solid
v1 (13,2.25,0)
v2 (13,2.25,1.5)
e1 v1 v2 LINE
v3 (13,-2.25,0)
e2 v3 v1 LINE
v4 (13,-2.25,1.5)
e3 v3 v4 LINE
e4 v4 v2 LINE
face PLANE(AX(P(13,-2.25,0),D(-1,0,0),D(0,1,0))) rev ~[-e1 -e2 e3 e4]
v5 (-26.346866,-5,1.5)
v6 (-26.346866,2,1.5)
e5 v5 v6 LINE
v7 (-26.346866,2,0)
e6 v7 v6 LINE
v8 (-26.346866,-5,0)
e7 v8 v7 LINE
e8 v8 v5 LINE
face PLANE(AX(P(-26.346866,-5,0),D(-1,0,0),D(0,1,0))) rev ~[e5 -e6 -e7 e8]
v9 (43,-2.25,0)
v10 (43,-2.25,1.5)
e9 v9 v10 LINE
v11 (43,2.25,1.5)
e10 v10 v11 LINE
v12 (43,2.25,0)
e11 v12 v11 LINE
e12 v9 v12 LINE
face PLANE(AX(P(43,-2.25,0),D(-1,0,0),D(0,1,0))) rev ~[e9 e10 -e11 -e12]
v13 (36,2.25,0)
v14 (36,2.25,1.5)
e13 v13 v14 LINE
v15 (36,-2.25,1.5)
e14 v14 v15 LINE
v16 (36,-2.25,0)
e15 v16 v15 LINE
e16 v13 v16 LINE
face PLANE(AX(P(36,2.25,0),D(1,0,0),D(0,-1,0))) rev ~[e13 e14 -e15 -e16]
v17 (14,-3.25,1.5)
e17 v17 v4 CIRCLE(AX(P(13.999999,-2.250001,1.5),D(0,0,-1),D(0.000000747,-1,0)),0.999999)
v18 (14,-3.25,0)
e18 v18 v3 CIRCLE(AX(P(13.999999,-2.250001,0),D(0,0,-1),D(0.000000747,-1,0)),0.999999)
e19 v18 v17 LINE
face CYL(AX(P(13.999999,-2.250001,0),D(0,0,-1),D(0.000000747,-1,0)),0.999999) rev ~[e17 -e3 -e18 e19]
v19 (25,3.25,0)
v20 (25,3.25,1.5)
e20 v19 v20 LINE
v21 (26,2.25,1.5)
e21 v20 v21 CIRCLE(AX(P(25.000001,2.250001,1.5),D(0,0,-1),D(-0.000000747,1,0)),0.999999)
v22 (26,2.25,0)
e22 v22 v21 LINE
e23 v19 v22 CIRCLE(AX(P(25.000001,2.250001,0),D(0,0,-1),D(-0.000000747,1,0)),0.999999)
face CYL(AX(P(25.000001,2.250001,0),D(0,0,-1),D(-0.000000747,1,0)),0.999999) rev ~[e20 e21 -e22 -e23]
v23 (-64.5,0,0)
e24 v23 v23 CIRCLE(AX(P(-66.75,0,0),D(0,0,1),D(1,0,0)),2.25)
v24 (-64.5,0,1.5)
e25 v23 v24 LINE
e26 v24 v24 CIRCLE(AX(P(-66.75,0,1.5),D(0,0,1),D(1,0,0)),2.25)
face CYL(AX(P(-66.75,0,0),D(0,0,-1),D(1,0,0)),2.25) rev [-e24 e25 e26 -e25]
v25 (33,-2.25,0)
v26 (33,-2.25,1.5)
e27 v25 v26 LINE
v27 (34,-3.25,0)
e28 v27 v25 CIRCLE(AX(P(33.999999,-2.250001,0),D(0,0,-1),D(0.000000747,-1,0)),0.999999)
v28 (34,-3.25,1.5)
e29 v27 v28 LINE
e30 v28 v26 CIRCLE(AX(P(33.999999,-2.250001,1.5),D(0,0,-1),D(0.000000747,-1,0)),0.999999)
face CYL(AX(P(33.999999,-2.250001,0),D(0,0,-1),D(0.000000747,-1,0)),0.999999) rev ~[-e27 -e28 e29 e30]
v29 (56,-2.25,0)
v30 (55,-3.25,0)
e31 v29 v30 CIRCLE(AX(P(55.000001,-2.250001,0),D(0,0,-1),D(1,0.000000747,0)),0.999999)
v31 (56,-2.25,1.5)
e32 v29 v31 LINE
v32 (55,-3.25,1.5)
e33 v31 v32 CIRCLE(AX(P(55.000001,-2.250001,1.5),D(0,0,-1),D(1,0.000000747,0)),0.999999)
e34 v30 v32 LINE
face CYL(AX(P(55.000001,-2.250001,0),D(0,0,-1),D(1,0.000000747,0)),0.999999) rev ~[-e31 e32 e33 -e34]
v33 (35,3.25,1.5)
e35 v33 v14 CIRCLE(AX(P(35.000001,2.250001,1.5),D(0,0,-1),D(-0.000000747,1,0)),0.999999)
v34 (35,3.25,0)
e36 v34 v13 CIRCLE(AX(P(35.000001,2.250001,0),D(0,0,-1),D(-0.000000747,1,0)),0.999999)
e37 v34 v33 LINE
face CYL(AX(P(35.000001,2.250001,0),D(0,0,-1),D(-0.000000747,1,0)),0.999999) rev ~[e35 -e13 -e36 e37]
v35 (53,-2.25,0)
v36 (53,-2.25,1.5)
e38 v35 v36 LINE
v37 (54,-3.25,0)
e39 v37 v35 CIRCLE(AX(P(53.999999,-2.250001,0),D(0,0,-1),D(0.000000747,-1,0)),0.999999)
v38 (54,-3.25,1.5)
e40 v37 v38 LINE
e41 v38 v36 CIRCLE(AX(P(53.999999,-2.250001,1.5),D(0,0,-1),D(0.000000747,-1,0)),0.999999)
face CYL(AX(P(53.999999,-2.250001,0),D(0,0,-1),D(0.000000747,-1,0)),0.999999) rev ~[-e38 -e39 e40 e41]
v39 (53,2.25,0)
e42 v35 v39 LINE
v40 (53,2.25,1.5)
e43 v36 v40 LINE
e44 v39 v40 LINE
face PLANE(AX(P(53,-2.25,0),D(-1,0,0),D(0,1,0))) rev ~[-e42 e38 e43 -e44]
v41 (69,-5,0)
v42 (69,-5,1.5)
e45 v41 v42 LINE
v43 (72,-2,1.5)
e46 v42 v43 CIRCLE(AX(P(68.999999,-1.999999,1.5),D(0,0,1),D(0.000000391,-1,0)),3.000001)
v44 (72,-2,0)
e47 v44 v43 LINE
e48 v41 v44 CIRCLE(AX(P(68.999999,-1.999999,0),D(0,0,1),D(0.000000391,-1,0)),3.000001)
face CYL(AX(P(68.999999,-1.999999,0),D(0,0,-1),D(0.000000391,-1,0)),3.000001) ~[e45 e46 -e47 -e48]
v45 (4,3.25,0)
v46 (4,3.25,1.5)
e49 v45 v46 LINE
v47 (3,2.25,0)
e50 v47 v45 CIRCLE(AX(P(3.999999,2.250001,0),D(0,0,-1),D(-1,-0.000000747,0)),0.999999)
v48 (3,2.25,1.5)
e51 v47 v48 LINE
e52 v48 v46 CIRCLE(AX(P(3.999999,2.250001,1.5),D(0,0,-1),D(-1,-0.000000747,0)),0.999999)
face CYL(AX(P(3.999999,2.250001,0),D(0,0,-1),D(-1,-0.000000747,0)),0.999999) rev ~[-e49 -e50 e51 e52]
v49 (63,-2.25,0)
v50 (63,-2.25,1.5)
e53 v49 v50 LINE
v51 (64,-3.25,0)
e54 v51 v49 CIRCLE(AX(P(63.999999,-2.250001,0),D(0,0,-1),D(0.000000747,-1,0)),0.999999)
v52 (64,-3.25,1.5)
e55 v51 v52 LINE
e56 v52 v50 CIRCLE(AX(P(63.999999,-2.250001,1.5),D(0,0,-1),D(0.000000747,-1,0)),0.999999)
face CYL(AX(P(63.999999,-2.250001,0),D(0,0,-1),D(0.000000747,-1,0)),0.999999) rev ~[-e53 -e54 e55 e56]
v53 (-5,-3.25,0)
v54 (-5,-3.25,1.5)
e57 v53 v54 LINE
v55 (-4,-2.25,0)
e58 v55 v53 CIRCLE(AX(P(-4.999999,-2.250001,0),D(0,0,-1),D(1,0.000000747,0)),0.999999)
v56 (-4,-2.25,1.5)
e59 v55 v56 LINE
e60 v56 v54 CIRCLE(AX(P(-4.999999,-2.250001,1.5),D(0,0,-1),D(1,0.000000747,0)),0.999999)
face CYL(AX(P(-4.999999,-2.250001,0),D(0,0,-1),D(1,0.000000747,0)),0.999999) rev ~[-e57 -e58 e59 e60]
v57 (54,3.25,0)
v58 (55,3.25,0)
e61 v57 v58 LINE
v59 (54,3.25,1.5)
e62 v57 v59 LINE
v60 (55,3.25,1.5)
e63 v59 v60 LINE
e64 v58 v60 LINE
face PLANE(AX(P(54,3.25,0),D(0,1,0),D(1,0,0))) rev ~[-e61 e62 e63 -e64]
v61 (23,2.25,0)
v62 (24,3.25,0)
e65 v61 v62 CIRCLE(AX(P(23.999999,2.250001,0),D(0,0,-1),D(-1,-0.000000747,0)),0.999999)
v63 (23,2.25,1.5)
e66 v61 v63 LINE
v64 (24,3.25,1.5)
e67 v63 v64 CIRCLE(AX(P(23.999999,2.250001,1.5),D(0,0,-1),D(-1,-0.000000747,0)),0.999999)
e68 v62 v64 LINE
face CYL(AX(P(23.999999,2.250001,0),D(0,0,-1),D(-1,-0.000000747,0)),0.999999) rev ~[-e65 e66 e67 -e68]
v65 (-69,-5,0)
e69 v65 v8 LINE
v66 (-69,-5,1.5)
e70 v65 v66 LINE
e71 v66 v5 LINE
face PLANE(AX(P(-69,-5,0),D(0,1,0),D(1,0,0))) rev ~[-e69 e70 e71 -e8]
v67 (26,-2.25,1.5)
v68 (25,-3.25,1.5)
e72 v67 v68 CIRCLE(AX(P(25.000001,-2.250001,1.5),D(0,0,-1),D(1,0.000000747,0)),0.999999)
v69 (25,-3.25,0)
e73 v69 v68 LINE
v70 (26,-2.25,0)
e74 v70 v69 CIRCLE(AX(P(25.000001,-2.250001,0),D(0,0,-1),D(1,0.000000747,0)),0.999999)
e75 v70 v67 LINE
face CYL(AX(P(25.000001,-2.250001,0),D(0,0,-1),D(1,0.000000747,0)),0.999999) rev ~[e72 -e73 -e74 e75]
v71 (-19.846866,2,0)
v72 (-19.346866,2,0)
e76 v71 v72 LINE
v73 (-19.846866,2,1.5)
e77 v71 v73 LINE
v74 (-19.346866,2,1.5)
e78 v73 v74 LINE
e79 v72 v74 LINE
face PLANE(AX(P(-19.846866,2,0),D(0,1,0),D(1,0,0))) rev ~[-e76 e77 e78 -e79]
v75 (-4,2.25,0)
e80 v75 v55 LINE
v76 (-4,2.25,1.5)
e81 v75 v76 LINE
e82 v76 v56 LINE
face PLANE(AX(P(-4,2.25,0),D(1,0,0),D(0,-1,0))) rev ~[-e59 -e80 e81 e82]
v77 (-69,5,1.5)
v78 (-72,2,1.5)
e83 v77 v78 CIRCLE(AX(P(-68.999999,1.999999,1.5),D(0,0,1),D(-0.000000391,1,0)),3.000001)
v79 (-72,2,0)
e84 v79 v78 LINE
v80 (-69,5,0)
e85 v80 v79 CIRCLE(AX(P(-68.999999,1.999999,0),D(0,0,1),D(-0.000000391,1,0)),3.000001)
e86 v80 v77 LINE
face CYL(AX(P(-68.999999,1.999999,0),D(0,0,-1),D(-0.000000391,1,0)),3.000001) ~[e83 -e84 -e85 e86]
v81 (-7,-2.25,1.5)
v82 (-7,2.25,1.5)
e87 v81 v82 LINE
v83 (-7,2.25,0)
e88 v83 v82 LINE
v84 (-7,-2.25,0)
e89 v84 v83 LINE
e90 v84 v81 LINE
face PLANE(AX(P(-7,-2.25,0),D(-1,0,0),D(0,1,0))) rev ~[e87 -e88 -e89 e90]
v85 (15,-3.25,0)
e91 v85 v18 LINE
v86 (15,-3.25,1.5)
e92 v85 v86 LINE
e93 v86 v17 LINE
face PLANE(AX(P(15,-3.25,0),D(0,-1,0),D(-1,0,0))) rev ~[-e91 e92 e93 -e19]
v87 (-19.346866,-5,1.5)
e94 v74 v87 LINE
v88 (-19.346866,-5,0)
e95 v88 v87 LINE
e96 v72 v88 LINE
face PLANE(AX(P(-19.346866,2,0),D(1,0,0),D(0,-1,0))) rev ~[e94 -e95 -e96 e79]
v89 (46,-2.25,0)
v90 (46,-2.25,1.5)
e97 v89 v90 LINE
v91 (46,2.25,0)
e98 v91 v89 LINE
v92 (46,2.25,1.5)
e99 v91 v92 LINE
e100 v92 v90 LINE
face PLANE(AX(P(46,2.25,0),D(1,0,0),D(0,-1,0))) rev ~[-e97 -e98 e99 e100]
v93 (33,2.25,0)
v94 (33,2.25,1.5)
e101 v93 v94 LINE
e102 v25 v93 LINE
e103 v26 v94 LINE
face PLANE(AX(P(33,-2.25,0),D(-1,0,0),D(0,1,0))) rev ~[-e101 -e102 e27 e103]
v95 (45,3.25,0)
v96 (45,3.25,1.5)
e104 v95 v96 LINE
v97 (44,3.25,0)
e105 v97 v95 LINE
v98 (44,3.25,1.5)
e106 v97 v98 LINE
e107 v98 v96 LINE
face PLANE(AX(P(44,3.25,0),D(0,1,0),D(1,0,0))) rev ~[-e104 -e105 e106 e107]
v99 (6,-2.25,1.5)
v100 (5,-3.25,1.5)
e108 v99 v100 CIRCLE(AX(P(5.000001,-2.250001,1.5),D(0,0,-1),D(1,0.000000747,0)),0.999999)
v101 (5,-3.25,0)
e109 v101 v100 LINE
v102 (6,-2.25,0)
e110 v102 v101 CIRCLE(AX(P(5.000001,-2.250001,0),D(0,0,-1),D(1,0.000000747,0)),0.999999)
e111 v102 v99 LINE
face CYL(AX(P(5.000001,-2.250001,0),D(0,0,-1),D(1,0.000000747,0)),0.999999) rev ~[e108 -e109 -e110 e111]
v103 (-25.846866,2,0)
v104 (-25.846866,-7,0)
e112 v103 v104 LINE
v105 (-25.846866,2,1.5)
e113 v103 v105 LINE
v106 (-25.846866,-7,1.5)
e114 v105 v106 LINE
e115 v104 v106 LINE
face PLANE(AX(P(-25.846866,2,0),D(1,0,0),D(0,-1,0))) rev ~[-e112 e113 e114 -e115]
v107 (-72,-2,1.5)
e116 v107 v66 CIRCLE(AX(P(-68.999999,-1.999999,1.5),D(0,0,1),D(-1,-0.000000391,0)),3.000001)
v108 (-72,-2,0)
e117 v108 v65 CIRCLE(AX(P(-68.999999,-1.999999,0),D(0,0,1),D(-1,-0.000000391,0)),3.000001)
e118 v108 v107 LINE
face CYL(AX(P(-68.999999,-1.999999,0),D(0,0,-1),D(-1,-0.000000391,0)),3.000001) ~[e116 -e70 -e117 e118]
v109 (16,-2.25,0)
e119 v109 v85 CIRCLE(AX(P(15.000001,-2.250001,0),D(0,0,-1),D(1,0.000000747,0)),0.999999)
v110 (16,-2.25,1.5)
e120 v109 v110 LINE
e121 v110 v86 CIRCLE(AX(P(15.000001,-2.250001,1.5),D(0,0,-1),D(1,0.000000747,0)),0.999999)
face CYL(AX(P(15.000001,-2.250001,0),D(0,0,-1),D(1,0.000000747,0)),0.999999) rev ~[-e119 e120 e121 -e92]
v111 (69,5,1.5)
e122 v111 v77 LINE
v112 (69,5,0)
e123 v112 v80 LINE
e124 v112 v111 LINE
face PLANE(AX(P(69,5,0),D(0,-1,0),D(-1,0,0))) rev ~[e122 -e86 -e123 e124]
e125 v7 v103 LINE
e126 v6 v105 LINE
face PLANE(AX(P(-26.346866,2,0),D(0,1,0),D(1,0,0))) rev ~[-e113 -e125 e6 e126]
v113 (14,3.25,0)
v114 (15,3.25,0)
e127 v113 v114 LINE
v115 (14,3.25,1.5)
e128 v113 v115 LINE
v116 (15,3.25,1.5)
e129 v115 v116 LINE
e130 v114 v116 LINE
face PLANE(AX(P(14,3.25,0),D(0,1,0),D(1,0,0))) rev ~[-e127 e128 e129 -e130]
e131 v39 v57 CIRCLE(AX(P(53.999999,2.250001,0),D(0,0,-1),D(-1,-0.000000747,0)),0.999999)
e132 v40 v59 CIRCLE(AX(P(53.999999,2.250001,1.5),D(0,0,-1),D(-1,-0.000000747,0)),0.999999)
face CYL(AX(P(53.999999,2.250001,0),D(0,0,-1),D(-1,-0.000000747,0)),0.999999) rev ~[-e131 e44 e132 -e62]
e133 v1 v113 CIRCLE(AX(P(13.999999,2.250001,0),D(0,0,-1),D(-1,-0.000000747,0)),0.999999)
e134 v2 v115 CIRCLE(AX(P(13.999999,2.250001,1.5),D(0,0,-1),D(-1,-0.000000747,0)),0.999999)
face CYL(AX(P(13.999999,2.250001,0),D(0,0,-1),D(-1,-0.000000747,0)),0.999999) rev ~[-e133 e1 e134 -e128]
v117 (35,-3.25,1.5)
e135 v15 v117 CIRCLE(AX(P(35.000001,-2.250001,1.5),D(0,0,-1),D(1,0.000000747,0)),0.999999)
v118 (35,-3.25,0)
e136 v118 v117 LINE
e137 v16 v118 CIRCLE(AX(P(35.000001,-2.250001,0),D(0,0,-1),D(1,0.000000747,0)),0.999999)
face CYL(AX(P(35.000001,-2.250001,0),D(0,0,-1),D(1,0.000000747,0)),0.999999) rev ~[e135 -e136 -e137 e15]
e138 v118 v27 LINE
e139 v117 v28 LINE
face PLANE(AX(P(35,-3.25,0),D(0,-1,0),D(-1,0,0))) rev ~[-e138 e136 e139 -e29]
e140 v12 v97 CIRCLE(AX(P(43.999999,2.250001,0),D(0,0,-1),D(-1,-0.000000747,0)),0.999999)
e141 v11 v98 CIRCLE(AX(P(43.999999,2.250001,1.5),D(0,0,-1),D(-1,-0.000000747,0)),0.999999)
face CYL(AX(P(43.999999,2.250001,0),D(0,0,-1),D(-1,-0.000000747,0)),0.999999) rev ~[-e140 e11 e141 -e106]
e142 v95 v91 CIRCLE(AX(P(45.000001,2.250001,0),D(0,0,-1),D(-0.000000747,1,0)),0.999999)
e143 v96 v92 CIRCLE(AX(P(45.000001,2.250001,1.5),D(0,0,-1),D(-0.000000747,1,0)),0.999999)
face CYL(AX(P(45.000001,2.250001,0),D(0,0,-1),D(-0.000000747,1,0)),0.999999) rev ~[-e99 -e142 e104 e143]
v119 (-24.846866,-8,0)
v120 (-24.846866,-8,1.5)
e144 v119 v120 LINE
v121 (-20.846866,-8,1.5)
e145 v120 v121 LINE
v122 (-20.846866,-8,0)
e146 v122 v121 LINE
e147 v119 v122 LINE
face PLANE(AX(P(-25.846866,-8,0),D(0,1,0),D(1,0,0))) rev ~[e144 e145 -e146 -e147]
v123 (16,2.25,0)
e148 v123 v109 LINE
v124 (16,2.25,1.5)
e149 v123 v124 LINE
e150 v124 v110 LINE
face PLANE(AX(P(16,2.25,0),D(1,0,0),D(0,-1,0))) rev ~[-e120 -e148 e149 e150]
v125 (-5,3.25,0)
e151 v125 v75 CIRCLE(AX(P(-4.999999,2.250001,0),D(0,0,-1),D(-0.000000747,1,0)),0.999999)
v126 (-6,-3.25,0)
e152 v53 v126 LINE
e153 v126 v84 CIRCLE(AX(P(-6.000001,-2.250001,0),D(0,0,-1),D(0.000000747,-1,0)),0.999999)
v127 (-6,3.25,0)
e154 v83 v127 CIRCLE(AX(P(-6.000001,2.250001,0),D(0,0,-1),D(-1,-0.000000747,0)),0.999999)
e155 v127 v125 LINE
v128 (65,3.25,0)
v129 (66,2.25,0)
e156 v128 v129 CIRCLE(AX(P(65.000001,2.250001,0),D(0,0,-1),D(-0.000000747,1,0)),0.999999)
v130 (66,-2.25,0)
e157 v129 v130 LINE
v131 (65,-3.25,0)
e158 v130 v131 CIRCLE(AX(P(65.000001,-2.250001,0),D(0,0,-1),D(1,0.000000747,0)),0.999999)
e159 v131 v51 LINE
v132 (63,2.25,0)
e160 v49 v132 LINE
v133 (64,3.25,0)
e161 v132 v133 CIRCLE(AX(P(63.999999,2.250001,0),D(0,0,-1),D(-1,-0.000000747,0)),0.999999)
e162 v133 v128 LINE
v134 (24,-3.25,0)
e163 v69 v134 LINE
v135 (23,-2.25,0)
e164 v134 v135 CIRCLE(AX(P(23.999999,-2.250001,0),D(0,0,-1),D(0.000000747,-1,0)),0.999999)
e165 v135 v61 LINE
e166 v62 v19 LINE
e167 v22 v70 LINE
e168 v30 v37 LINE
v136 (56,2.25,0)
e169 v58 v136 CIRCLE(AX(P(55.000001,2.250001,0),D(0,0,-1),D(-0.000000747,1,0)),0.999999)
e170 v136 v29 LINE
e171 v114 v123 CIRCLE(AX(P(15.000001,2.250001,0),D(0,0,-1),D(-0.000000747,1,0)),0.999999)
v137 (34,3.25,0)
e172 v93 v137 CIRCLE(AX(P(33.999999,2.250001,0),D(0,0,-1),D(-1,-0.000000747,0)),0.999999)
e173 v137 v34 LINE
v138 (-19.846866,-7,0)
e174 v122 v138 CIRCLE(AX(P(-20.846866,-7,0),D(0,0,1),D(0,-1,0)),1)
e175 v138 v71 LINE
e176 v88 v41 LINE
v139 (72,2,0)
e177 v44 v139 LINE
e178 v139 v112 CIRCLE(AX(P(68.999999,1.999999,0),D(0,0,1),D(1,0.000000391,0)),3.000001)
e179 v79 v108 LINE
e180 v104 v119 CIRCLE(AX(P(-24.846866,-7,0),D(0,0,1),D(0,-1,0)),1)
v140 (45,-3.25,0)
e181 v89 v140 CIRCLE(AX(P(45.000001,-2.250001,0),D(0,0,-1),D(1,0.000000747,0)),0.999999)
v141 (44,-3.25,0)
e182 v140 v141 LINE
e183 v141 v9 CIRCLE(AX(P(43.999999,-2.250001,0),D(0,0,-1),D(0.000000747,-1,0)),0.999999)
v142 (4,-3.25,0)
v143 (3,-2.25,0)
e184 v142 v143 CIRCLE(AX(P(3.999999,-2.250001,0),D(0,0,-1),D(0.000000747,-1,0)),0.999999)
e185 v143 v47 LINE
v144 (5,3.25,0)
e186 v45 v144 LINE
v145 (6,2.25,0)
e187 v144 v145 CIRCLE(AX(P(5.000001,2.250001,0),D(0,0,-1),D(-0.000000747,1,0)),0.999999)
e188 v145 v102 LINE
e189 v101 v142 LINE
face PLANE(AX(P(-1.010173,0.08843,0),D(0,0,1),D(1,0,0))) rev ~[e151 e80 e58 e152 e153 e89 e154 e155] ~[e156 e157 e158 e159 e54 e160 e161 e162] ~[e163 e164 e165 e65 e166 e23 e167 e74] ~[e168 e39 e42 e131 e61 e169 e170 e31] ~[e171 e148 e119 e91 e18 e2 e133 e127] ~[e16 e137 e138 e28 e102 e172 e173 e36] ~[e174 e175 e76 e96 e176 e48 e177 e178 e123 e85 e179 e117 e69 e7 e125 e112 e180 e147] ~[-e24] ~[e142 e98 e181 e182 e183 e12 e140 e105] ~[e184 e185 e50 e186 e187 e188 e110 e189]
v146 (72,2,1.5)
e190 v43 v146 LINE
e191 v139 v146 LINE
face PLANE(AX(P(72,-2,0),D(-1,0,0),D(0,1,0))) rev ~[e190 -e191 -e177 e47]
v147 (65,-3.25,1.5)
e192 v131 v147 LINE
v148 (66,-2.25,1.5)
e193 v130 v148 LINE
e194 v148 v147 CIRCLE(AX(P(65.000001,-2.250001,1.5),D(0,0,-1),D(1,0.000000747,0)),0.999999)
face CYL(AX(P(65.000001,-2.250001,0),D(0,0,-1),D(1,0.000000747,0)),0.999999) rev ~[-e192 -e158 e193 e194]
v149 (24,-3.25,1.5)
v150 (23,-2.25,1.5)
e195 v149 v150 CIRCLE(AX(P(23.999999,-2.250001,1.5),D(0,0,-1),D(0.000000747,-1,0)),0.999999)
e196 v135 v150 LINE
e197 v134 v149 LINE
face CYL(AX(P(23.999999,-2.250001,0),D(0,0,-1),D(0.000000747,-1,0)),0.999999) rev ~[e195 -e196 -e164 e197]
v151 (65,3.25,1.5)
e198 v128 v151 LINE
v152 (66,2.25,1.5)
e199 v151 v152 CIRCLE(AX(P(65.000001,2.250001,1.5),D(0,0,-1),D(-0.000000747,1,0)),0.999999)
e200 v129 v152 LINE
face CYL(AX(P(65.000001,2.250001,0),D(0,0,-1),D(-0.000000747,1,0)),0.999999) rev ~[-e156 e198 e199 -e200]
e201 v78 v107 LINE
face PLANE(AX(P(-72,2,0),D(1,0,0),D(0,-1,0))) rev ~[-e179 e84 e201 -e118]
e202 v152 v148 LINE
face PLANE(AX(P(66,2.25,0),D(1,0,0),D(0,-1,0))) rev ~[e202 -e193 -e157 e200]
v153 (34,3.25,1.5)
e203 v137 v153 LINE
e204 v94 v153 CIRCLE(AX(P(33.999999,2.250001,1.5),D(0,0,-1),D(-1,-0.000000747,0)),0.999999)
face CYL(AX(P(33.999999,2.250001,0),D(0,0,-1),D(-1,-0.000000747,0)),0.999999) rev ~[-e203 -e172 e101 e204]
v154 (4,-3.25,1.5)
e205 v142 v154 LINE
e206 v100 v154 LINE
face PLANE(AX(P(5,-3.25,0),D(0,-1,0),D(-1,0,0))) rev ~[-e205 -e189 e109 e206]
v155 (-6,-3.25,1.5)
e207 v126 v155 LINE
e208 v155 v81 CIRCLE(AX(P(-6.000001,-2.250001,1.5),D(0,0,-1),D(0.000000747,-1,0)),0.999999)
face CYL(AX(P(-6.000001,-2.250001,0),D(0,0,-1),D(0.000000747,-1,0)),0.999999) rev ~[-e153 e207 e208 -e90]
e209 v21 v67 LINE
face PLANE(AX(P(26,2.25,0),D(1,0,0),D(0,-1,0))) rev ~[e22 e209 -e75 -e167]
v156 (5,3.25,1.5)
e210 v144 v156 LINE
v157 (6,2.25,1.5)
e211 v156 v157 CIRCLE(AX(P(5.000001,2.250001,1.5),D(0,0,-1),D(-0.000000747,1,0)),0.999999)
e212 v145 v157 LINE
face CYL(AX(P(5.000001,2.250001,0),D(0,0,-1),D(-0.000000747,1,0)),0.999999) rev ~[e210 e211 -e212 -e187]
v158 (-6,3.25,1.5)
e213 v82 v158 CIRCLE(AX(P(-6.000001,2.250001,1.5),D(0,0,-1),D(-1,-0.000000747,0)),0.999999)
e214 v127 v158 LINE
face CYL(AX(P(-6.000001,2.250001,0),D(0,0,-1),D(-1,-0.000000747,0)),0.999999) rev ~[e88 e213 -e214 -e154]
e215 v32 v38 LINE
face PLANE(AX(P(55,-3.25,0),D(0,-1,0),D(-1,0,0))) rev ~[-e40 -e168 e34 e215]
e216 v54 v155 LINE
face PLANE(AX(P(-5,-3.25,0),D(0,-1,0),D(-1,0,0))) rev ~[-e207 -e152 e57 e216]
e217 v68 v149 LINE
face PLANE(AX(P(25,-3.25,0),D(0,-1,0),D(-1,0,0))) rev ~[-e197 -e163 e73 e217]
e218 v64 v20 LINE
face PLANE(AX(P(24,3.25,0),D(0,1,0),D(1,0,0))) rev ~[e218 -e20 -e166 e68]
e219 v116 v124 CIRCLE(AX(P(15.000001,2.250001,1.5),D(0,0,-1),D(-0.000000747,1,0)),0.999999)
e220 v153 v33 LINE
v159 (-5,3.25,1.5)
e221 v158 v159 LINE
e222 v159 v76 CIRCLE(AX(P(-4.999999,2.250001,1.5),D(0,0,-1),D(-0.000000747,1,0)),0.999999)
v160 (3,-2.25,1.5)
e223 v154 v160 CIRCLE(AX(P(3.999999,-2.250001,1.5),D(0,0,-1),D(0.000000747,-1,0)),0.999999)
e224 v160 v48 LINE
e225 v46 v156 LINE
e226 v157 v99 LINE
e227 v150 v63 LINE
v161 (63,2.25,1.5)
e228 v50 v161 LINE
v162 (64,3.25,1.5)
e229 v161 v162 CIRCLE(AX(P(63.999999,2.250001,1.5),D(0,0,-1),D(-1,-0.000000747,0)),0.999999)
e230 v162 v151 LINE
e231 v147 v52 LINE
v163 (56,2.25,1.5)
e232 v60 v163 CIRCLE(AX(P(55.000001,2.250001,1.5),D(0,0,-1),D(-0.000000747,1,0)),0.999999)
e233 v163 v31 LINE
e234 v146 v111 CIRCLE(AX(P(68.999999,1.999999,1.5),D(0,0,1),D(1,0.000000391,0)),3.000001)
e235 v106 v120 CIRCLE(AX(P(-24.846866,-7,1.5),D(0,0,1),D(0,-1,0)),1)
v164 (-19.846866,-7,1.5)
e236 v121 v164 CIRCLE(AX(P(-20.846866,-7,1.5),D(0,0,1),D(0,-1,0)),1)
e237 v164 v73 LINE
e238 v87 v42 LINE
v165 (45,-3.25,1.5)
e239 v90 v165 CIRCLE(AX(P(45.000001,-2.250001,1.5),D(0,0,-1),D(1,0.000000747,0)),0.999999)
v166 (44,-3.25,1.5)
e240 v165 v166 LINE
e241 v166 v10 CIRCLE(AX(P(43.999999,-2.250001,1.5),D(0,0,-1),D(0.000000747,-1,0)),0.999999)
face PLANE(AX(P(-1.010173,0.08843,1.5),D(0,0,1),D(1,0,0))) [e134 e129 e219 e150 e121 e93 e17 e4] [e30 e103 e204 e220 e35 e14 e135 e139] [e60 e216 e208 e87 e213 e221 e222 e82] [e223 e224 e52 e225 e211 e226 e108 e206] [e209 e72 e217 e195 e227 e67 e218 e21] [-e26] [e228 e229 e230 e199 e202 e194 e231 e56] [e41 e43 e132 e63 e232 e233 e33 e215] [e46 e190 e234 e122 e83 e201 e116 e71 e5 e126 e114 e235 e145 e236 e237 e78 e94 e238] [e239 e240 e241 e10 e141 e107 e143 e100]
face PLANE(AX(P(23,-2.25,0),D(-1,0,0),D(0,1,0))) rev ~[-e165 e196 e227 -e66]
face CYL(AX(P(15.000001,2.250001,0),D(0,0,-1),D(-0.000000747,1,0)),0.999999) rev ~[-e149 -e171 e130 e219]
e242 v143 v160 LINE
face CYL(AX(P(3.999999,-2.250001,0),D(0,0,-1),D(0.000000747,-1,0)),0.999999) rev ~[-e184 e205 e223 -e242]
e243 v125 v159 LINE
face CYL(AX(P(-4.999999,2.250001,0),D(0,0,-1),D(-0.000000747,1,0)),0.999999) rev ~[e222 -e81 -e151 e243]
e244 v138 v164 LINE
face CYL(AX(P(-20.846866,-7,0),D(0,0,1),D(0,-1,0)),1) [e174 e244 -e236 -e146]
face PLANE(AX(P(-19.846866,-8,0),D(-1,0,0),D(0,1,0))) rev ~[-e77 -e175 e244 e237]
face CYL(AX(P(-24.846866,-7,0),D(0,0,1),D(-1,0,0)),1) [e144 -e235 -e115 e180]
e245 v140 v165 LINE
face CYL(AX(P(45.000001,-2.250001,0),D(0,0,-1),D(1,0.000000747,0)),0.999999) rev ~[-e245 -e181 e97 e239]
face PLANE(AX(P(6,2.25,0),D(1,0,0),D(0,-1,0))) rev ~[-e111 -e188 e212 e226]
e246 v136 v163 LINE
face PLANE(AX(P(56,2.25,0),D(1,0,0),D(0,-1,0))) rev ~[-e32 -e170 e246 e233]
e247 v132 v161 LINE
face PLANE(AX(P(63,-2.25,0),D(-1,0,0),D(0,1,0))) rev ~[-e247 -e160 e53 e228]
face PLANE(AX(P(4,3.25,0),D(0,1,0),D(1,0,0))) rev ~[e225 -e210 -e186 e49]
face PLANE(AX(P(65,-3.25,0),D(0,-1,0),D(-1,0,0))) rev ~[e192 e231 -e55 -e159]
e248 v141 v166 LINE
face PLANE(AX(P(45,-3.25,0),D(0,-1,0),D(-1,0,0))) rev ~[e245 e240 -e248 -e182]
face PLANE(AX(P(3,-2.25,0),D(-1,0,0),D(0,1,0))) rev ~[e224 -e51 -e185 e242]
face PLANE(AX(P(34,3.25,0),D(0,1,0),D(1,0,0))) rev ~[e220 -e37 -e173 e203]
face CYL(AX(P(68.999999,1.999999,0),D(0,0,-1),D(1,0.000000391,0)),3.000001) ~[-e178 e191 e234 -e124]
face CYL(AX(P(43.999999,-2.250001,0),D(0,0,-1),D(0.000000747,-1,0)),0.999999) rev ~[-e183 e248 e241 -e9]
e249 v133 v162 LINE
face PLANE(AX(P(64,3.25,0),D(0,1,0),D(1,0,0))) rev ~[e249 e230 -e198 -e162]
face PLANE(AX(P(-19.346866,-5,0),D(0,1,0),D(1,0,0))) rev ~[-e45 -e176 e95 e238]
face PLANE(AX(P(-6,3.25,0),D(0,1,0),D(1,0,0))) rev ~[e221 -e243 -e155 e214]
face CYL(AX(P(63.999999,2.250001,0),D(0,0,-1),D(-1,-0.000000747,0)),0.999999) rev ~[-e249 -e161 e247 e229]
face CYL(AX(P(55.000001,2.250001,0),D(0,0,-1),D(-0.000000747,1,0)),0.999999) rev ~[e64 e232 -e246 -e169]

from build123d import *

# Parameters (mm, degrees)
F0_R     = 2.25
F1_DEPTH = 1.5
F2_R     = 1


with BuildPart() as f1:
    # F0 (on Top) → F1 (new body)
    with BuildSketch(Plane.XY):
        with BuildLine():
            Line((-19.346866, -5), (69, -5))
            ThreePointArc((69, -5), (71.12132, -4.12132), (72, -2))
            Line((72, -2), (72, 2))
            ThreePointArc((72, 2), (71.12132, 4.12132), (69, 5))
            Line((69, 5), (-69, 5))
            ThreePointArc((-69, 5), (-71.12132, 4.12132), (-72, 2))
            Line((-72, 2), (-72, -2))
            ThreePointArc((-72, -2), (-71.12132, -4.12132), (-69, -5))
            Line((-69, -5), (-26.346866, -5))
            Line((-26.346866, -5), (-26.346866, 2))
            Line((-26.346866, 2), (-25.846866, 2))
            Line((-25.846866, 2), (-19.846866, 2))
            Line((-19.846866, 2), (-19.346866, 2))
            Line((-19.346866, 2), (-19.346866, -5))
        make_face()
        with Locations((-66.75, 0)):
            Circle(F0_R, mode=Mode.SUBTRACT)
        with BuildLine():
            ThreePointArc((-4, -2.25), (-4.292893, -2.957107), (-5, -3.25))
            Line((-5, -3.25), (-6, -3.25))
            ThreePointArc((-6, -3.25), (-6.707107, -2.957107), (-7, -2.25))
            Line((-7, -2.25), (-7, 2.25))
            ThreePointArc((-7, 2.25), (-6.707107, 2.957107), (-6, 3.25))
            Line((-6, 3.25), (-5, 3.25))
            ThreePointArc((-5, 3.25), (-4.292893, 2.957107), (-4, 2.25))
            Line((-4, 2.25), (-4, -2.25))
        make_face(mode=Mode.SUBTRACT)
        with BuildLine():
            ThreePointArc((4, -3.25), (3.292893, -2.957107), (3, -2.25))
            Line((3, -2.25), (3, 2.25))
            ThreePointArc((3, 2.25), (3.292893, 2.957107), (4, 3.25))
            Line((4, 3.25), (5, 3.25))
            ThreePointArc((5, 3.25), (5.707107, 2.957107), (6, 2.25))
            Line((6, 2.25), (6, -2.25))
            ThreePointArc((6, -2.25), (5.707107, -2.957107), (5, -3.25))
            Line((5, -3.25), (4, -3.25))
        make_face(mode=Mode.SUBTRACT)
        with BuildLine():
            ThreePointArc((14, -3.25), (13.292893, -2.957107), (13, -2.25))
            Line((13, -2.25), (13, 2.25))
            ThreePointArc((13, 2.25), (13.292893, 2.957107), (14, 3.25))
            Line((14, 3.25), (15, 3.25))
            ThreePointArc((15, 3.25), (15.707107, 2.957107), (16, 2.25))
            Line((16, 2.25), (16, -2.25))
            ThreePointArc((16, -2.25), (15.707107, -2.957107), (15, -3.25))
            Line((15, -3.25), (14, -3.25))
        make_face(mode=Mode.SUBTRACT)
        with BuildLine():
            ThreePointArc((24, -3.25), (23.292893, -2.957107), (23, -2.25))
            Line((23, -2.25), (23, 2.25))
            ThreePointArc((23, 2.25), (23.292893, 2.957107), (24, 3.25))
            Line((24, 3.25), (25, 3.25))
            ThreePointArc((25, 3.25), (25.707107, 2.957107), (26, 2.25))
            Line((26, 2.25), (26, -2.25))
            ThreePointArc((26, -2.25), (25.707107, -2.957107), (25, -3.25))
            Line((25, -3.25), (24, -3.25))
        make_face(mode=Mode.SUBTRACT)
        with BuildLine():
            ThreePointArc((34, -3.25), (33.292893, -2.957107), (33, -2.25))
            Line((33, -2.25), (33, 2.25))
            ThreePointArc((33, 2.25), (33.292893, 2.957107), (34, 3.25))
            Line((34, 3.25), (35, 3.25))
            ThreePointArc((35, 3.25), (35.707107, 2.957107), (36, 2.25))
            Line((36, 2.25), (36, -2.25))
            ThreePointArc((36, -2.25), (35.707107, -2.957107), (35, -3.25))
            Line((35, -3.25), (34, -3.25))
        make_face(mode=Mode.SUBTRACT)
        with BuildLine():
            ThreePointArc((44, -3.25), (43.292893, -2.957107), (43, -2.25))
            Line((43, -2.25), (43, 2.25))
            ThreePointArc((43, 2.25), (43.292893, 2.957107), (44, 3.25))
            Line((44, 3.25), (45, 3.25))
            ThreePointArc((45, 3.25), (45.707107, 2.957107), (46, 2.25))
            Line((46, 2.25), (46, -2.25))
            ThreePointArc((46, -2.25), (45.707107, -2.957107), (45, -3.25))
            Line((45, -3.25), (44, -3.25))
        make_face(mode=Mode.SUBTRACT)
        with BuildLine():
            ThreePointArc((54, -3.25), (53.292893, -2.957107), (53, -2.25))
            Line((53, -2.25), (53, 2.25))
            ThreePointArc((53, 2.25), (53.292893, 2.957107), (54, 3.25))
            Line((54, 3.25), (55, 3.25))
            ThreePointArc((55, 3.25), (55.707107, 2.957107), (56, 2.25))
            Line((56, 2.25), (56, -2.25))
            ThreePointArc((56, -2.25), (55.707107, -2.957107), (55, -3.25))
            Line((55, -3.25), (54, -3.25))
        make_face(mode=Mode.SUBTRACT)
        with BuildLine():
            ThreePointArc((64, -3.25), (63.292893, -2.957107), (63, -2.25))
            Line((63, -2.25), (63, 2.25))
            ThreePointArc((63, 2.25), (63.292893, 2.957107), (64, 3.25))
            Line((64, 3.25), (65, 3.25))
            ThreePointArc((65, 3.25), (65.707107, 2.957107), (66, 2.25))
            Line((66, 2.25), (66, -2.25))
            ThreePointArc((66, -2.25), (65.707107, -2.957107), (65, -3.25))
            Line((65, -3.25), (64, -3.25))
        make_face(mode=Mode.SUBTRACT)
        Polygon((-19.846866, -8), (-19.846866, -5), (-19.846866, 2), (-25.846866, 2), (-25.846866, -5), (-25.846866, -8), align=None)
    extrude(amount=F1_DEPTH)

    # F2
    f2_edges = [f1.edges().sort_by_distance(p)[0] for p in [
        (-25.846866, -8, 0.75),
        (-19.846866, -8, 0.75),
    ]]
    fillet(f2_edges, radius=F2_R)


solid = f1.part
